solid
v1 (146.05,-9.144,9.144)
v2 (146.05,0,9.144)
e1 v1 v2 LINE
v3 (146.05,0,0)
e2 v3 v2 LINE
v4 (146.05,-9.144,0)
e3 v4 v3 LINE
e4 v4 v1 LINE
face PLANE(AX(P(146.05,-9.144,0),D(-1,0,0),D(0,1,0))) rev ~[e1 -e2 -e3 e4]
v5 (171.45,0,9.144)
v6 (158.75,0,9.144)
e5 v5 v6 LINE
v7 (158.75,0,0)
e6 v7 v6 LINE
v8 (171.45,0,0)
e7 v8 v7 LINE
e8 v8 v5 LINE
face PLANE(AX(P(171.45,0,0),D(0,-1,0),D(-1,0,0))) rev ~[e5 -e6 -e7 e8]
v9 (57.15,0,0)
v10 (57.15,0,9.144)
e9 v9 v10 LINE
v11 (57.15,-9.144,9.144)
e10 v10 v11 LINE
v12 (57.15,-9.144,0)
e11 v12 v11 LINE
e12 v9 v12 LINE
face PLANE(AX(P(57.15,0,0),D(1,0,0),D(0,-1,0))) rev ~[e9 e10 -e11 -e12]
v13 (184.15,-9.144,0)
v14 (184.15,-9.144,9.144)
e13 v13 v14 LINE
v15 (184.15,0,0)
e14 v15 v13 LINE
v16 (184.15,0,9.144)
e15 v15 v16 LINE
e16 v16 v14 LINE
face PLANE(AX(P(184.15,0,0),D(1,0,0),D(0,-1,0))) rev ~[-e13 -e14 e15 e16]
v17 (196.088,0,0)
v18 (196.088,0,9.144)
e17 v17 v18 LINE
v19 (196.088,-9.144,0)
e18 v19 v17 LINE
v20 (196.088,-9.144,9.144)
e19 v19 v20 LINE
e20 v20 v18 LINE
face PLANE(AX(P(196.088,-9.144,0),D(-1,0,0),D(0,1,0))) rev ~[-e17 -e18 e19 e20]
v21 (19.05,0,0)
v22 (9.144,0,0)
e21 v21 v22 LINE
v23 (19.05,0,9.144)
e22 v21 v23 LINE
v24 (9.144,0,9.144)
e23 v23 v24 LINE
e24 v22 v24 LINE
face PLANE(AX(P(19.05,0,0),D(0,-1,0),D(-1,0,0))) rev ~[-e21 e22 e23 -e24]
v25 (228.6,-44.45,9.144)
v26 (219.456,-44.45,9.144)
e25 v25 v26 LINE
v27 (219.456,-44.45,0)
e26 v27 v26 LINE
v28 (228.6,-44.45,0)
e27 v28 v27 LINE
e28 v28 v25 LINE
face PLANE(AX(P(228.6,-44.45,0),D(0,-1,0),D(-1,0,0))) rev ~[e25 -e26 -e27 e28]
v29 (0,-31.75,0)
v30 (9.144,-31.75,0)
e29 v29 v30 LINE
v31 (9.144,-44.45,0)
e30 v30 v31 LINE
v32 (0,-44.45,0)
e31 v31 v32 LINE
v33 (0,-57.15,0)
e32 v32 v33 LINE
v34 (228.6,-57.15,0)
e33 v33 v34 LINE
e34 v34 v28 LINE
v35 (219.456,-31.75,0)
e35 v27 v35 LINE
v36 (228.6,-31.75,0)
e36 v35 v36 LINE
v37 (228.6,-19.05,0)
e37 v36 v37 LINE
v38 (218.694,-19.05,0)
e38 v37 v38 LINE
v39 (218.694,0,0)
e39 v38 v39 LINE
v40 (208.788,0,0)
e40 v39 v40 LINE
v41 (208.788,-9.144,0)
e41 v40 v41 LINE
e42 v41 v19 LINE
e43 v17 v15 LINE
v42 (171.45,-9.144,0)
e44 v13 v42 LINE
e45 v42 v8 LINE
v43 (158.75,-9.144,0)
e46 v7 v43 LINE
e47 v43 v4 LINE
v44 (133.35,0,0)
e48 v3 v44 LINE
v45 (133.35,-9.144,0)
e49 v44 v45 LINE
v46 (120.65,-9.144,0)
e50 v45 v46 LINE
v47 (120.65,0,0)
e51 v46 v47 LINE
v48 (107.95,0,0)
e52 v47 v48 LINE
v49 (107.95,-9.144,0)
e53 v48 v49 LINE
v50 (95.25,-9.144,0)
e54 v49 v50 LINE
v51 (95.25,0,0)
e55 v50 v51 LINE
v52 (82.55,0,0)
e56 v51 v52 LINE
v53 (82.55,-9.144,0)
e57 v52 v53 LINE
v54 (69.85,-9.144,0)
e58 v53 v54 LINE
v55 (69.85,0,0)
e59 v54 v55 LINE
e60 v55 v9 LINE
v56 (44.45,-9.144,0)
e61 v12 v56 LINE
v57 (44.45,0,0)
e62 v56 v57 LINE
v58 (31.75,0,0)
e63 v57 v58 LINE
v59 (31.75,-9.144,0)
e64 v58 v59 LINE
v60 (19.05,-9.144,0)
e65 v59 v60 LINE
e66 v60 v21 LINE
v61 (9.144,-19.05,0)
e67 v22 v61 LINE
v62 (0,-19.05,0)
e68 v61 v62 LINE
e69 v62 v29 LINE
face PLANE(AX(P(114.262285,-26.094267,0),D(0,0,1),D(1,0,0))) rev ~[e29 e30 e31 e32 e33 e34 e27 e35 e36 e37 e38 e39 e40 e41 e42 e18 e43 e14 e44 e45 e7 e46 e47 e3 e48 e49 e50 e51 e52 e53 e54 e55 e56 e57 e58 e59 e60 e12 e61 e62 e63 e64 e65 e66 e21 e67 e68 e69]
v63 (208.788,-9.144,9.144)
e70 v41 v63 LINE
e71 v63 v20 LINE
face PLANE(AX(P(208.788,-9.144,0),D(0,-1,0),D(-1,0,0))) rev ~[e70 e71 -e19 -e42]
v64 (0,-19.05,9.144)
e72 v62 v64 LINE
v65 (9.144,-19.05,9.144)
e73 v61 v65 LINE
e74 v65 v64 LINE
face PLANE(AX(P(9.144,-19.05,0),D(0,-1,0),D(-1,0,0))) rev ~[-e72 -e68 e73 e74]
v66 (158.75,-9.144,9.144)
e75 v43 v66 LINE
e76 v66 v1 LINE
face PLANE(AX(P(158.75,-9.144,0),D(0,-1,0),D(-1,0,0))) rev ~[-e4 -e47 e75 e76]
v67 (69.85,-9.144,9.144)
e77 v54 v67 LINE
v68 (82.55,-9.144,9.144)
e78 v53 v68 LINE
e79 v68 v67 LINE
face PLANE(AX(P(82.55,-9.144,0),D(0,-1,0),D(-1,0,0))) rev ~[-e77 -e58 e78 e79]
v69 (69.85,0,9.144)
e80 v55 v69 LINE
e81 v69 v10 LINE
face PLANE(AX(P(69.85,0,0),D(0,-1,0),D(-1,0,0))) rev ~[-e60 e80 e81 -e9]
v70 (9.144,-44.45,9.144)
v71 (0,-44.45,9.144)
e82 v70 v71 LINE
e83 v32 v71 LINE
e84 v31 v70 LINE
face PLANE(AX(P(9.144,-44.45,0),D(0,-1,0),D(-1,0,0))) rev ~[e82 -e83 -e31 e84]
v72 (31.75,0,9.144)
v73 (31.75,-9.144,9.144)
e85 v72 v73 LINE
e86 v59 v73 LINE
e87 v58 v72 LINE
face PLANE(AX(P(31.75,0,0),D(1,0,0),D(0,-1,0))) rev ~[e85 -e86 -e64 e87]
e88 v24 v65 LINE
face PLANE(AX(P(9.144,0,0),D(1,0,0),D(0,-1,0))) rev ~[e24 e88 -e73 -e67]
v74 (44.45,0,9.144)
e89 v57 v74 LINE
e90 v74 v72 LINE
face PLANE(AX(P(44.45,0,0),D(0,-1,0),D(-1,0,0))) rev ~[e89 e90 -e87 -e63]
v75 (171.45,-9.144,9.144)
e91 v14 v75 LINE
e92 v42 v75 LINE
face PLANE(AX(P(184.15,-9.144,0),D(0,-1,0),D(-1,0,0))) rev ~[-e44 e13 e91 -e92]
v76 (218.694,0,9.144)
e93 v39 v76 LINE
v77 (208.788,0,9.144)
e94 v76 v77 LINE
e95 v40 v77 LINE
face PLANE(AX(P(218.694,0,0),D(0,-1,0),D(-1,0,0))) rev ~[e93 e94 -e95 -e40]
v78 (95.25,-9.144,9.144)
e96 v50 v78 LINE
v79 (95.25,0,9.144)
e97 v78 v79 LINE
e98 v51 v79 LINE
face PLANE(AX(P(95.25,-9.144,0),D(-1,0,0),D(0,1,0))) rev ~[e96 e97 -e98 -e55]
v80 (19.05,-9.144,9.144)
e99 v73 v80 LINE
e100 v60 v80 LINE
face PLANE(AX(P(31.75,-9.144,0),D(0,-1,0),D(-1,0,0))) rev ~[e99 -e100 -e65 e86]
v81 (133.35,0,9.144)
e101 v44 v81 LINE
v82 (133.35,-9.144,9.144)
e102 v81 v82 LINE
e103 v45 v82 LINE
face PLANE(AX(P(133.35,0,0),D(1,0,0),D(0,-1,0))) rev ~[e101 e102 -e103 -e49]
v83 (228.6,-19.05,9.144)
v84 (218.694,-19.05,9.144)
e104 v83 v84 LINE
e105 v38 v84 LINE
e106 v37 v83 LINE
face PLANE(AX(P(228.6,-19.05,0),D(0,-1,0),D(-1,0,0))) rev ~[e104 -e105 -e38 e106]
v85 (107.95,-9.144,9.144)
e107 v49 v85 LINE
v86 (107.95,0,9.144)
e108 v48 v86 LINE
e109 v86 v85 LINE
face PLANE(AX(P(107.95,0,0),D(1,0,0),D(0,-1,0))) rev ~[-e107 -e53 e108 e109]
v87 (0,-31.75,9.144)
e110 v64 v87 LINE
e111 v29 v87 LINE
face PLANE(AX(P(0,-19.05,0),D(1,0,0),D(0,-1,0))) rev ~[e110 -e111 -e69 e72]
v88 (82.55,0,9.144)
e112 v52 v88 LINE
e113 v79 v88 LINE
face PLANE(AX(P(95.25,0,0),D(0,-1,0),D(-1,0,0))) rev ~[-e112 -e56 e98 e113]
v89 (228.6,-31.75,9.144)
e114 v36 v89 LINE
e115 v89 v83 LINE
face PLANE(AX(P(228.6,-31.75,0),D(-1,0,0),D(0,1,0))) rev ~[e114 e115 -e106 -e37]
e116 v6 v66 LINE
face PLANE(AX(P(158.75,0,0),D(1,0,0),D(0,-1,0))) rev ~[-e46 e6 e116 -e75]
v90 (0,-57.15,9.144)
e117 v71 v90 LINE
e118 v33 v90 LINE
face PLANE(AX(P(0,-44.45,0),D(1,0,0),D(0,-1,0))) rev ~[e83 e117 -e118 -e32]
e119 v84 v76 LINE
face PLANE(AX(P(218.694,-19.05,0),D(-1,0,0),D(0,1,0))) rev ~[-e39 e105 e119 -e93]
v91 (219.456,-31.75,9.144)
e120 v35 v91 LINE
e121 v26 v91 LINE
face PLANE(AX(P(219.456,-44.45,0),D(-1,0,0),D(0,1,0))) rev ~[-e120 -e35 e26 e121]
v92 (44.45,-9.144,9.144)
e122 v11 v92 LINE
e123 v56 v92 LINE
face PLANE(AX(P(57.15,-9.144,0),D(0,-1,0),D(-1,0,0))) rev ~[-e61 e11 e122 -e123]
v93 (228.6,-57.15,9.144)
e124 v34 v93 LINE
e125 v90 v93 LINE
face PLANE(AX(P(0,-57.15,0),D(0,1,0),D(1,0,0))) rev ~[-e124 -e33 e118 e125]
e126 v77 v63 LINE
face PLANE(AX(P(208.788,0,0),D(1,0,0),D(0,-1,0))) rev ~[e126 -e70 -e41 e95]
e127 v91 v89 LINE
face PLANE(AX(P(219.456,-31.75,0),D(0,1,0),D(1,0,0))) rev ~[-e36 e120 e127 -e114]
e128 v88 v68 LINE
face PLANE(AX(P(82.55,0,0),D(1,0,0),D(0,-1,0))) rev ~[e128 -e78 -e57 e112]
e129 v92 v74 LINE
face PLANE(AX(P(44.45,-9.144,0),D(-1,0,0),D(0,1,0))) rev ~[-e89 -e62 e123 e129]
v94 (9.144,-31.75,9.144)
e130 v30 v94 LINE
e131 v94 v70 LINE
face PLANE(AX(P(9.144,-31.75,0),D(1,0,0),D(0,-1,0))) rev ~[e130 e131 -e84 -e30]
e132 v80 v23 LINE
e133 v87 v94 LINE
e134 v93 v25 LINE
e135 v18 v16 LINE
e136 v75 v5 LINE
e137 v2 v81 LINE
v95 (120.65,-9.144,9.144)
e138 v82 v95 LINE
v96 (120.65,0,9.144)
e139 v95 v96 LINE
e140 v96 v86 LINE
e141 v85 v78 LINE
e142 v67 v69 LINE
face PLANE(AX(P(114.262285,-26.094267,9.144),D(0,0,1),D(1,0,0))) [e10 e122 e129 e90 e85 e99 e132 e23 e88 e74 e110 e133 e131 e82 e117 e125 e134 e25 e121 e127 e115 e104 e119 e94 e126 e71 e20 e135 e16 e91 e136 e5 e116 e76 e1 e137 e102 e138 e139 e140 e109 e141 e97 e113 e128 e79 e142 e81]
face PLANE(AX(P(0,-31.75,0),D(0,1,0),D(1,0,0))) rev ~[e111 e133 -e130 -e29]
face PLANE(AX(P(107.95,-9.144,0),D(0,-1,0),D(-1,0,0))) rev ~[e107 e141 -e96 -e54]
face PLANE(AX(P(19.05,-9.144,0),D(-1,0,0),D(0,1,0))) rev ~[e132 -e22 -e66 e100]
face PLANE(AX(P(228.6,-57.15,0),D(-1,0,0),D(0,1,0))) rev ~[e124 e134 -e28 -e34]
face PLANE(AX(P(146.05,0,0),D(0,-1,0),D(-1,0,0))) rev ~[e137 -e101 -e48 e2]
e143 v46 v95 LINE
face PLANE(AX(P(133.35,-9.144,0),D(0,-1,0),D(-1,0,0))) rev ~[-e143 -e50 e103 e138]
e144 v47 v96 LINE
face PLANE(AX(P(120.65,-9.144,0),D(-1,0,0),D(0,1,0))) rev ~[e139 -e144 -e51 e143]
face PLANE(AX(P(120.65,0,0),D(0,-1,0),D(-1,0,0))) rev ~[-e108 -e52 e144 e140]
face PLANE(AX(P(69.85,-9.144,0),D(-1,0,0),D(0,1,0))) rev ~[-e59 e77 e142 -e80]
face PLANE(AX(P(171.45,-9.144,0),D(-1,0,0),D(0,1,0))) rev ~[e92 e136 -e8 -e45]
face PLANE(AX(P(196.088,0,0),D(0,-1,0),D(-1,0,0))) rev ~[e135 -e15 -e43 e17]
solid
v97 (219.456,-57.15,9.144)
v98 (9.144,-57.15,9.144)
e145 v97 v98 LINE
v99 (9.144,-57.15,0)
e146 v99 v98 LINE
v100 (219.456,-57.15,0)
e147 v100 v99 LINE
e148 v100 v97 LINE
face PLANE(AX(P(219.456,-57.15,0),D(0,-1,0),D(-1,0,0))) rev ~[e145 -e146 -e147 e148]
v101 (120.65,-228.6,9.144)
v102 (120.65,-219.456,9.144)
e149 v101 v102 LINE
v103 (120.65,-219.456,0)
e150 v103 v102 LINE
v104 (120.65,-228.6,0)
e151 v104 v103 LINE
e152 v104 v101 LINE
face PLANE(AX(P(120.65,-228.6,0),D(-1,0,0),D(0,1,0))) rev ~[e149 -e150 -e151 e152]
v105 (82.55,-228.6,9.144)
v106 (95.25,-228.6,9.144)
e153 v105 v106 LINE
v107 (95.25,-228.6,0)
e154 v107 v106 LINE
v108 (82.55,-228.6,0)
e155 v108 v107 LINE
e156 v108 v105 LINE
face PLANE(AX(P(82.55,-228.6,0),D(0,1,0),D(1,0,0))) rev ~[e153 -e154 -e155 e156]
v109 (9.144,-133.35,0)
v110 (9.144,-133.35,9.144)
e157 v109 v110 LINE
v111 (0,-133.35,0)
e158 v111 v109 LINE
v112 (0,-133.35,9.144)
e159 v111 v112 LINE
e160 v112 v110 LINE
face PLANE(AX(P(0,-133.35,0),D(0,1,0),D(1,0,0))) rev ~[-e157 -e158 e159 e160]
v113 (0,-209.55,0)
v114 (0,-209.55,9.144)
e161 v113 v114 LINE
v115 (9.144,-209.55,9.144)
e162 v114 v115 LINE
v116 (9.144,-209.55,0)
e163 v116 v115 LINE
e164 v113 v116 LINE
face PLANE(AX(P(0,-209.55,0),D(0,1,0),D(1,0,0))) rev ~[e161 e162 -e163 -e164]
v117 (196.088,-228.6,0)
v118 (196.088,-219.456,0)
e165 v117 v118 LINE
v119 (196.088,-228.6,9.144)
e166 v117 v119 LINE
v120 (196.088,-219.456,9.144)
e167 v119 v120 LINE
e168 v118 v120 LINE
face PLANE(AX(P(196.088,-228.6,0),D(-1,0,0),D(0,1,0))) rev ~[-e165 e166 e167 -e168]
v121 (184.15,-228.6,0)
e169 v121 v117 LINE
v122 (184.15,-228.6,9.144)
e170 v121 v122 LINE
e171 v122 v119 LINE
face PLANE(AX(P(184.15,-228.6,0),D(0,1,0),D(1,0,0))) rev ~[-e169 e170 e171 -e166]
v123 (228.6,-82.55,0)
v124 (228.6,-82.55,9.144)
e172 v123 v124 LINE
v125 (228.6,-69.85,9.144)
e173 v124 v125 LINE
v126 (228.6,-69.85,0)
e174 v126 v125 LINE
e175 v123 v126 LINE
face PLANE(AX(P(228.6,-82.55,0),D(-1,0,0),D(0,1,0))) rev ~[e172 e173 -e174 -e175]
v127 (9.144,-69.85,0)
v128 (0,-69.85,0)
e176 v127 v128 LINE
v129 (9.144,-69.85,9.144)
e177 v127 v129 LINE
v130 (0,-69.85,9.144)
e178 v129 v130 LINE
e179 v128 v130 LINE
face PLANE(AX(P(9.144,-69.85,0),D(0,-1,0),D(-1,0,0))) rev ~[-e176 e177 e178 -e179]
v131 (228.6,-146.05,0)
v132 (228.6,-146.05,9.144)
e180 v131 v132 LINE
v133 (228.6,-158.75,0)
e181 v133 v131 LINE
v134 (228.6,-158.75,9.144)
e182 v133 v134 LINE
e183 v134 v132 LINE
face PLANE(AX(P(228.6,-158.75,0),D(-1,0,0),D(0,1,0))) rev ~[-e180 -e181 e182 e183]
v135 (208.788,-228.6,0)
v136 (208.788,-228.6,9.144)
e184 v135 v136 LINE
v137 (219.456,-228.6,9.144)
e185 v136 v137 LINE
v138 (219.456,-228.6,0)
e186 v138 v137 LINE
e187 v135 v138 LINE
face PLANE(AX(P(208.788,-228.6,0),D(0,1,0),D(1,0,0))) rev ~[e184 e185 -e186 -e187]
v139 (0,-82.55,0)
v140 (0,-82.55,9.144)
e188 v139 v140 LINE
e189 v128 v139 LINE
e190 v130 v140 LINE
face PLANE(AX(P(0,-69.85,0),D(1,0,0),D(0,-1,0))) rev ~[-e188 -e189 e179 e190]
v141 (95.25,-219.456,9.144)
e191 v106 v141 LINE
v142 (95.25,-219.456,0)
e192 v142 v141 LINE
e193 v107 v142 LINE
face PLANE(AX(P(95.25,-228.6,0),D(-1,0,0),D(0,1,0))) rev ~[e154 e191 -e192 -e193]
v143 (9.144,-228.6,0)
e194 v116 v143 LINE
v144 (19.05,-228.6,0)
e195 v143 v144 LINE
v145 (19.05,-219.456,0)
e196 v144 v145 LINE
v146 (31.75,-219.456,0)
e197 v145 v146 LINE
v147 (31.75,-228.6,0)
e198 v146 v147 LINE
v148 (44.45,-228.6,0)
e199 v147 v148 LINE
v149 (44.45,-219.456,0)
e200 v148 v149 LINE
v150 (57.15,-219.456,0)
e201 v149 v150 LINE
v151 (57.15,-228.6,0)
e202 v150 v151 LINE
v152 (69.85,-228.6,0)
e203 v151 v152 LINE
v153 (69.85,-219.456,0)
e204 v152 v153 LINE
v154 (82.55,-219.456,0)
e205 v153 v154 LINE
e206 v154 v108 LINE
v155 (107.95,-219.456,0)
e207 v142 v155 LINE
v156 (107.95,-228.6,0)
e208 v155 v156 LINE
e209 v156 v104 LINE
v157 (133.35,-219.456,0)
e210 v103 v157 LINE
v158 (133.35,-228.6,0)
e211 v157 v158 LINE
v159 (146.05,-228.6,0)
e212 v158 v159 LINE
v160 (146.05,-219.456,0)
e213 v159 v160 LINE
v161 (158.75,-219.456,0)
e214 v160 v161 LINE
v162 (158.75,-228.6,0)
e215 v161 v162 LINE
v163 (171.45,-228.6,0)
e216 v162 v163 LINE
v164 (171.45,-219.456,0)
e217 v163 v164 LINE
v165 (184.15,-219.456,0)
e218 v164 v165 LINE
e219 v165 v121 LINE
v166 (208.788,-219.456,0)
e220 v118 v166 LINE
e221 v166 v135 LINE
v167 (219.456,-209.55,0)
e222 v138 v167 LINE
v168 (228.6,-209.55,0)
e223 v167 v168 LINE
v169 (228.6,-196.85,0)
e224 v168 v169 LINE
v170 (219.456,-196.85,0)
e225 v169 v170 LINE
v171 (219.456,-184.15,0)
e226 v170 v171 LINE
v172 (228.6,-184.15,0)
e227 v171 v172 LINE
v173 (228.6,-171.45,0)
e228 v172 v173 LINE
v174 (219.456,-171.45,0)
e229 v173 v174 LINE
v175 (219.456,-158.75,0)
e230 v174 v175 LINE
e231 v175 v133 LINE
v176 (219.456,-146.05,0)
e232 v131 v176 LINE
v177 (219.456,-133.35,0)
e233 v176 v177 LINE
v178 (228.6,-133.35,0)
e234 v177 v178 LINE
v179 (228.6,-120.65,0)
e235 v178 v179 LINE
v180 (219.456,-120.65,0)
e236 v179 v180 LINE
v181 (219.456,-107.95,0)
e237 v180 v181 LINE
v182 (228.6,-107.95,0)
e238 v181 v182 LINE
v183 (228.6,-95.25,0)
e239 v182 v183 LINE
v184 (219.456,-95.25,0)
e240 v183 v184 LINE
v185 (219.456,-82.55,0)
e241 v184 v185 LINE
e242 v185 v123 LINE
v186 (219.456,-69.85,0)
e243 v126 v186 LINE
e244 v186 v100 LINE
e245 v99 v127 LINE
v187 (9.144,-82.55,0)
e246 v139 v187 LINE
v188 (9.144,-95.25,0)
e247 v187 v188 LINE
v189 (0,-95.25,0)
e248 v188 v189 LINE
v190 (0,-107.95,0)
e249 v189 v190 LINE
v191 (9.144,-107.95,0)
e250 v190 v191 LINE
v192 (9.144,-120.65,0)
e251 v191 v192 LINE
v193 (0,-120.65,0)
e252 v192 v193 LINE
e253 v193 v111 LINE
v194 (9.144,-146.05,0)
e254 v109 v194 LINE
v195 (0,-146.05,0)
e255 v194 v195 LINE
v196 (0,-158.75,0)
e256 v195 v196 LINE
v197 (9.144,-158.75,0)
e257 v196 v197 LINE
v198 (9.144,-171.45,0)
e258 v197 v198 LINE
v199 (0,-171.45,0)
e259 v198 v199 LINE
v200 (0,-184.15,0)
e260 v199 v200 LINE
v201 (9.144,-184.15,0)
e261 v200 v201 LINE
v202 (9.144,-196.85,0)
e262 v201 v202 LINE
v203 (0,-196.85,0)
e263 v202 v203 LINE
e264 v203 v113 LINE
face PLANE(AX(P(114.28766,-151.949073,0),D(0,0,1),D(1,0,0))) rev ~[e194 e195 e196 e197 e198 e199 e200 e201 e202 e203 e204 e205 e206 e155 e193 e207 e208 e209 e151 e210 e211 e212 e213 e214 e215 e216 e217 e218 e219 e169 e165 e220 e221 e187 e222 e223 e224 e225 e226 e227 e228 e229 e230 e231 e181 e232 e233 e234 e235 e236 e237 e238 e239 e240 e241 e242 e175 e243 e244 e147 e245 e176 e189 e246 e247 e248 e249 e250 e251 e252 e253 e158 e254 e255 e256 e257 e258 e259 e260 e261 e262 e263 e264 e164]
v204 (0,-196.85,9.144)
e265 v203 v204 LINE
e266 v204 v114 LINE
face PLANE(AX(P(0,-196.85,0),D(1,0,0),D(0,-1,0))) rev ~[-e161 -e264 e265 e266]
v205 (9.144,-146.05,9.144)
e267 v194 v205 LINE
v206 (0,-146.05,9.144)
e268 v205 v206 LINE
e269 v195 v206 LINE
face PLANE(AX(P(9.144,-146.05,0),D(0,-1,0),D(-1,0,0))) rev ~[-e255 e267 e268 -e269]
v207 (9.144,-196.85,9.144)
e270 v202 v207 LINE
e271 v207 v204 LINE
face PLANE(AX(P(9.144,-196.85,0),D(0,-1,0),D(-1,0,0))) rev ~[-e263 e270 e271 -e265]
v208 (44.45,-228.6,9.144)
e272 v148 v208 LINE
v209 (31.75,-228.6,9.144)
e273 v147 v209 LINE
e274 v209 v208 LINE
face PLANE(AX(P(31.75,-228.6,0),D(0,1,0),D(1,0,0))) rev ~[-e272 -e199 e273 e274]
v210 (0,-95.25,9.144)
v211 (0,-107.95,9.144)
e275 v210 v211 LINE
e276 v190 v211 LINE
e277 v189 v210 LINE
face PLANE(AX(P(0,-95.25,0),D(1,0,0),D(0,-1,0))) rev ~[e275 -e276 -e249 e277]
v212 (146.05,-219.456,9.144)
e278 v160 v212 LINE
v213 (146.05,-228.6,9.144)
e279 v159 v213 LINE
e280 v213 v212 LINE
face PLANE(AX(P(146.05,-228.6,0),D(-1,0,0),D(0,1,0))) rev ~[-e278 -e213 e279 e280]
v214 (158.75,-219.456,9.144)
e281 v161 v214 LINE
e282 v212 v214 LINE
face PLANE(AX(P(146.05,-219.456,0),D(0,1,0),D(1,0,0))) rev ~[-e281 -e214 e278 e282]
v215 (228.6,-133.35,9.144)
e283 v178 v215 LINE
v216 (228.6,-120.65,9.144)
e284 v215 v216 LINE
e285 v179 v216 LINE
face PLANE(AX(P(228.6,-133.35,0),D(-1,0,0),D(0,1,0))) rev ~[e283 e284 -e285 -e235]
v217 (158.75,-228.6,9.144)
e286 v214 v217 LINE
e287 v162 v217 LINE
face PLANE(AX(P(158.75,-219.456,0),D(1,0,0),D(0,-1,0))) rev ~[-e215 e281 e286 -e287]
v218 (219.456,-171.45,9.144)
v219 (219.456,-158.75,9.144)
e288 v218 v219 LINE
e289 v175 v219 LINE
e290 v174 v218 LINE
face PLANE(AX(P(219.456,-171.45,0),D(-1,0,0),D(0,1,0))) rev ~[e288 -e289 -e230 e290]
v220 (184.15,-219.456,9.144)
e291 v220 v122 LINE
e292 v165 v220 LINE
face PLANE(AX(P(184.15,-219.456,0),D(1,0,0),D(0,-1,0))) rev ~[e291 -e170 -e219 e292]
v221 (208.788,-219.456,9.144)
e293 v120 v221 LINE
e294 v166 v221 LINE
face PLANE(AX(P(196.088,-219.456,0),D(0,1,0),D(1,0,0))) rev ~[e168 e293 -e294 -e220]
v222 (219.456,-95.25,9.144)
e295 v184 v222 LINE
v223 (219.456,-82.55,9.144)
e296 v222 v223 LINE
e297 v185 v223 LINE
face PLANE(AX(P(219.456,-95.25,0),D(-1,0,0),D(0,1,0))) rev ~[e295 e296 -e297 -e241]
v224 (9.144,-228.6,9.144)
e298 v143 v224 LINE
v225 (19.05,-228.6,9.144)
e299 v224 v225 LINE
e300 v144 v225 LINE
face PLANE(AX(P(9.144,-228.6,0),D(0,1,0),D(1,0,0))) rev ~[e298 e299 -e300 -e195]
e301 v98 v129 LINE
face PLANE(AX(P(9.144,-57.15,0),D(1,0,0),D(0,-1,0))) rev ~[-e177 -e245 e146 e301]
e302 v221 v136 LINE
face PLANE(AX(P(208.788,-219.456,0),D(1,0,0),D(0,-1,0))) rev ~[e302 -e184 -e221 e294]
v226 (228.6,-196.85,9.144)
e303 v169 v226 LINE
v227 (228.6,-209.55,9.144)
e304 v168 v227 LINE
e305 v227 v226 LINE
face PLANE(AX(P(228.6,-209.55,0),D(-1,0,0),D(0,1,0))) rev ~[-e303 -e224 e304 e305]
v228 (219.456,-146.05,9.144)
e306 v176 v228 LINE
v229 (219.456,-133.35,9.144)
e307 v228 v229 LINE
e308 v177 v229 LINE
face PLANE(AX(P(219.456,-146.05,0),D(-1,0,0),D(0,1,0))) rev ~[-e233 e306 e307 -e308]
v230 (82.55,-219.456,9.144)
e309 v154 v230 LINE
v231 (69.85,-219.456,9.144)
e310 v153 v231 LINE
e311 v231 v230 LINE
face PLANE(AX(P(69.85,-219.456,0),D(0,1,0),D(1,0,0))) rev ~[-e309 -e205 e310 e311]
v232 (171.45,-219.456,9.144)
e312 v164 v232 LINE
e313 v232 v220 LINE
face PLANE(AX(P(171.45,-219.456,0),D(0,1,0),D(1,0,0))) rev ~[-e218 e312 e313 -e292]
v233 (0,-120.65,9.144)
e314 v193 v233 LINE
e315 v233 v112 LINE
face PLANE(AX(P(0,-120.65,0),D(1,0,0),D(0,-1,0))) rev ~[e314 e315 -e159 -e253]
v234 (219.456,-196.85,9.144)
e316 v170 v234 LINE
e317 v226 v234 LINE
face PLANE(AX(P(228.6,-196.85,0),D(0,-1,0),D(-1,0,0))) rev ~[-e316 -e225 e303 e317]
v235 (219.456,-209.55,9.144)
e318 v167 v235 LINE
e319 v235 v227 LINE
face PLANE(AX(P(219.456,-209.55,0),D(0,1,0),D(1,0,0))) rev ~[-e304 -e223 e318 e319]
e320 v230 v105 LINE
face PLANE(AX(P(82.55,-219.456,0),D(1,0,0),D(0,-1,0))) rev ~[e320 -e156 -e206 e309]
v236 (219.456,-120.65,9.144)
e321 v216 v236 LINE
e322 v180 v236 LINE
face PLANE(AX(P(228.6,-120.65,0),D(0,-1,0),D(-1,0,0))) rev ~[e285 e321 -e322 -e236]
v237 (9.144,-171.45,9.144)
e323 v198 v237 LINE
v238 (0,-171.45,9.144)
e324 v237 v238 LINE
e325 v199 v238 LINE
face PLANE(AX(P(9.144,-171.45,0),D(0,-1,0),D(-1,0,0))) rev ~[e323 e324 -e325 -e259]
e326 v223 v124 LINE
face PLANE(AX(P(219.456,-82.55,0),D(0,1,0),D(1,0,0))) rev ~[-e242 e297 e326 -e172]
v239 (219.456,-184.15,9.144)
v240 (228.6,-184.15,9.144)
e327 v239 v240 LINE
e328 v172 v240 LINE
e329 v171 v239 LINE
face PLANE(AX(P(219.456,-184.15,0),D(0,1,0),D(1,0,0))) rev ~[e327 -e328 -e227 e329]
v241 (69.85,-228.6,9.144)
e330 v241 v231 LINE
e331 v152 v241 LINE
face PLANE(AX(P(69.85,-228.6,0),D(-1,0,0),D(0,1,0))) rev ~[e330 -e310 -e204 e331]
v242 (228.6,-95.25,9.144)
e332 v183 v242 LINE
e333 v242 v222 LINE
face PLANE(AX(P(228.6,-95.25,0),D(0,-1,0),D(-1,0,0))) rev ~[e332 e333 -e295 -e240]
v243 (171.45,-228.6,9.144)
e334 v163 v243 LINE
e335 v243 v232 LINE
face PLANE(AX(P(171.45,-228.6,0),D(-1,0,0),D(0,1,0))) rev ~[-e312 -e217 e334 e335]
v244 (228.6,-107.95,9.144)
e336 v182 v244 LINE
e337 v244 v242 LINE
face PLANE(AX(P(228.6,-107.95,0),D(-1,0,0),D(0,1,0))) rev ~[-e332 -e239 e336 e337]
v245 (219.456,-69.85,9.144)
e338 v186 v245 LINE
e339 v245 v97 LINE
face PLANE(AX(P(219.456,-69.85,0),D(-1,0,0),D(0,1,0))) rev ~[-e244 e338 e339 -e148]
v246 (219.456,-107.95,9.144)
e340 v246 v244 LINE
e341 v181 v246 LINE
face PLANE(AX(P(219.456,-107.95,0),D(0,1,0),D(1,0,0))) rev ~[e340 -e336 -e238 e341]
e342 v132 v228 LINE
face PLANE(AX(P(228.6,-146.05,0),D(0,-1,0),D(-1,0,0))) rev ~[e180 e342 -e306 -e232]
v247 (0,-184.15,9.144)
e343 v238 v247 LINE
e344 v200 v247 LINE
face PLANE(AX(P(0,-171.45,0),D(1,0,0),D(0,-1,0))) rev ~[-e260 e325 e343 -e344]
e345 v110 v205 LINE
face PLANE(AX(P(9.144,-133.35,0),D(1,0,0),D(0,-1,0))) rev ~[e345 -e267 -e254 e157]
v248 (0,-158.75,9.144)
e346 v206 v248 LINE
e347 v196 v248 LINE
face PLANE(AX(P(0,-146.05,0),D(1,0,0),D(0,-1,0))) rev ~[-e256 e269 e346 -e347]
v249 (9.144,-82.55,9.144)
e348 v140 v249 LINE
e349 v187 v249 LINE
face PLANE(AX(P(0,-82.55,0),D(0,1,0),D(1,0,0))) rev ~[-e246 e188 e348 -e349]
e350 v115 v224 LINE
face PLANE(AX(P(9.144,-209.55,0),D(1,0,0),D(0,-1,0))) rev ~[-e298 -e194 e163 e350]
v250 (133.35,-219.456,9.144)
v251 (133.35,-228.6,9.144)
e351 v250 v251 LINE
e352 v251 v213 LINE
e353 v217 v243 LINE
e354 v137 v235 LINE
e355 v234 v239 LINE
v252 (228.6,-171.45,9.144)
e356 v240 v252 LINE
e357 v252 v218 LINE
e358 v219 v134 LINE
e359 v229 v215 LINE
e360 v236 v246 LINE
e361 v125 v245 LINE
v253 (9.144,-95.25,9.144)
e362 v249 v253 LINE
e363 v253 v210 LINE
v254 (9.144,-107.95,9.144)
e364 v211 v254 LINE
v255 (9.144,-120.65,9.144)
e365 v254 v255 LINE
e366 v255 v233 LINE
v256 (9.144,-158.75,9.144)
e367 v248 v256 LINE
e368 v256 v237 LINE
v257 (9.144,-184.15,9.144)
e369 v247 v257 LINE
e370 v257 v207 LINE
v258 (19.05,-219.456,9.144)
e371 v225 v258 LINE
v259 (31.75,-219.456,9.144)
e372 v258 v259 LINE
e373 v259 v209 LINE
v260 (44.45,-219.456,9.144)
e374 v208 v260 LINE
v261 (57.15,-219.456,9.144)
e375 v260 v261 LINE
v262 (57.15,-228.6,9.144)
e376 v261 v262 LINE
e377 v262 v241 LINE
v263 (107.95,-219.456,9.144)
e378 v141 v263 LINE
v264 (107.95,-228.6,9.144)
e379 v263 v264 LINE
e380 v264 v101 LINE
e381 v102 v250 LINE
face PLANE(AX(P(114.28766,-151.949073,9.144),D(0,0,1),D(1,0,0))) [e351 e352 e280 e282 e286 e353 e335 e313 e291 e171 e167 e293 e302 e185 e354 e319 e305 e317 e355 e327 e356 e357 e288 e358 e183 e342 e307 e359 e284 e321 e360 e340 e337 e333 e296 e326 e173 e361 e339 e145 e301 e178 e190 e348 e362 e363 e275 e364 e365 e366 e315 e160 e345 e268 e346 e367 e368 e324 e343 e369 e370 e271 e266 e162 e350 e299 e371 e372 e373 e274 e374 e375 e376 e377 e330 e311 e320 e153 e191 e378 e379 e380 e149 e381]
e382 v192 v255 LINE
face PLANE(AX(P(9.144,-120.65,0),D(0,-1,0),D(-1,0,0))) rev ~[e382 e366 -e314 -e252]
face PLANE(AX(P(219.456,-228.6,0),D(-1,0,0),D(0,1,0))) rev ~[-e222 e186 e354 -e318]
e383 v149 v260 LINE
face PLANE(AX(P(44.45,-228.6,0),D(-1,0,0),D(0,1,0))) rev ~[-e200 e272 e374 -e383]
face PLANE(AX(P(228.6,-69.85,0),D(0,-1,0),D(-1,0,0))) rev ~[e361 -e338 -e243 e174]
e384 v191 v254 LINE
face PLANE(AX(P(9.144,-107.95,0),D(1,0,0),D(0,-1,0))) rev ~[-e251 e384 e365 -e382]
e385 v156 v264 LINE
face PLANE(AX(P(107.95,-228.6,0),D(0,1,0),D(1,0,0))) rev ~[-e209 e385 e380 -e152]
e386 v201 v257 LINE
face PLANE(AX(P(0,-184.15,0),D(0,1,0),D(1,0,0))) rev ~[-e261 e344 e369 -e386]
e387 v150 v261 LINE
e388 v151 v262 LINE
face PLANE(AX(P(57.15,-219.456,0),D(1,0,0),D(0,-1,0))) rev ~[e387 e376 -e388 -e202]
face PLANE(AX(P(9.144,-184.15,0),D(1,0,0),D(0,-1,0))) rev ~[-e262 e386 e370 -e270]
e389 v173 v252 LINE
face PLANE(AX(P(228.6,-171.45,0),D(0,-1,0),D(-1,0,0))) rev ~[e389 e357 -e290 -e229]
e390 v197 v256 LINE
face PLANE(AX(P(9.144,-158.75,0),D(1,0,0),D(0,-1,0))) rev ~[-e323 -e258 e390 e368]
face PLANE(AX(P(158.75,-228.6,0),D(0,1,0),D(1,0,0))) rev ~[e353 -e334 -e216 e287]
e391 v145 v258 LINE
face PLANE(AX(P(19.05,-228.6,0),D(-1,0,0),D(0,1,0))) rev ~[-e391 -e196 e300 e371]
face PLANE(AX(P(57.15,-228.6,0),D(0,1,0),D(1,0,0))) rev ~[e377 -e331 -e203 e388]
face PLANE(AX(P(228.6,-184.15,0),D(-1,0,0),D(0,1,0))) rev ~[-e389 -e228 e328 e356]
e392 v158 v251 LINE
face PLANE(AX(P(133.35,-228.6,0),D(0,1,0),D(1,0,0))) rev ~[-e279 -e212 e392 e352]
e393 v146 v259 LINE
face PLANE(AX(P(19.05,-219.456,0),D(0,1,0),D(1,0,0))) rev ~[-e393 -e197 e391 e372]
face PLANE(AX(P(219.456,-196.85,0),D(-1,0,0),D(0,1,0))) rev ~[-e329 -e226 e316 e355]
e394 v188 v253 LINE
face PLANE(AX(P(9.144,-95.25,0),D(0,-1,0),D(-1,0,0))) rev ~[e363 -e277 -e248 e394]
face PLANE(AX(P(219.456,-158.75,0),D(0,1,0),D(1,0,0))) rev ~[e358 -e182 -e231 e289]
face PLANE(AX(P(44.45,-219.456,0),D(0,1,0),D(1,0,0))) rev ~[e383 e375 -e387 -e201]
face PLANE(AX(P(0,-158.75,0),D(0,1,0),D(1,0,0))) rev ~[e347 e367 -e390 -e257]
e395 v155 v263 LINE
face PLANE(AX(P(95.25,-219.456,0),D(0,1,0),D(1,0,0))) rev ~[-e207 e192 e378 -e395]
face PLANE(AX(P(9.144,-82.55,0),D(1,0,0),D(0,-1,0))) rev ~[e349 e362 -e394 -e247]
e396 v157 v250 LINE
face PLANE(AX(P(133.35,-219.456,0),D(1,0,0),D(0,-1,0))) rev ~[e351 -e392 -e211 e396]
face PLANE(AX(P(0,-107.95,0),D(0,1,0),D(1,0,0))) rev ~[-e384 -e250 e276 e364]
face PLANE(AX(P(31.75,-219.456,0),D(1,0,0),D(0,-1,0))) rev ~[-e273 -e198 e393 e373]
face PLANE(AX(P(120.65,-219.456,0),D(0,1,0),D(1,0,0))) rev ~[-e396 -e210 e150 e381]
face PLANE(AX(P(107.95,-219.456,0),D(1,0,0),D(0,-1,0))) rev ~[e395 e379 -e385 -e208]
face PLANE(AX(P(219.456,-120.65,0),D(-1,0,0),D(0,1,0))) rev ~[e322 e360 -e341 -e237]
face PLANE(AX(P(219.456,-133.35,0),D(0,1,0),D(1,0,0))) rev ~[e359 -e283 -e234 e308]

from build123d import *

# Parameters (mm, degrees)
F1_DEPTH = 9.144
F2_DEPTH = 9.144


with BuildPart() as f1:
    # F0 (on Top) → F1 (new body)
    with BuildSketch(Plane.XY):
        Polygon((19.05, 0), (9.144, 0), (9.144, -19.05), (0, -19.05), (0, -31.75), (9.144, -31.75), (9.144, -44.45), (0, -44.45), (0, -57.15), (9.144, -57.15), (219.456, -57.15), (228.6, -57.15), (228.6, -44.45), (219.456, -44.45), (219.456, -31.75), (228.6, -31.75), (228.6, -19.05), (218.694, -19.05), (218.694, 0), (208.788, 0), (208.788, -9.144), (196.088, -9.144), (196.088, 0), (184.15, 0), (184.15, -9.144), (171.45, -9.144), (171.45, 0), (158.75, 0), (158.75, -9.144), (146.05, -9.144), (146.05, 0), (133.35, 0), (133.35, -9.144), (120.65, -9.144), (120.65, 0), (107.95, 0), (107.95, -9.144), (95.25, -9.144), (95.25, 0), (82.55, 0), (82.55, -9.144), (69.85, -9.144), (69.85, 0), (57.15, 0), (57.15, -9.144), (44.45, -9.144), (44.45, 0), (31.75, 0), (31.75, -9.144), (19.05, -9.144), align=None)
    extrude(amount=F1_DEPTH)


with BuildPart() as f2:
    # F0 (on Top) → F2 (new body)
    with BuildSketch(Plane.XY):
        Polygon((219.456, -57.15), (9.144, -57.15), (9.144, -69.85), (0, -69.85), (0, -82.55), (9.144, -82.55), (9.144, -95.25), (0, -95.25), (0, -107.95), (9.144, -107.95), (9.144, -120.65), (0, -120.65), (0, -133.35), (9.144, -133.35), (9.144, -146.05), (0, -146.05), (0, -158.75), (9.144, -158.75), (9.144, -171.45), (0, -171.45), (0, -184.15), (9.144, -184.15), (9.144, -196.85), (0, -196.85), (0, -209.55), (9.144, -209.55), (9.144, -228.6), (19.05, -228.6), (19.05, -219.456), (31.75, -219.456), (31.75, -228.6), (44.45, -228.6), (44.45, -219.456), (57.15, -219.456), (57.15, -228.6), (69.85, -228.6), (69.85, -219.456), (82.55, -219.456), (82.55, -228.6), (95.25, -228.6), (95.25, -219.456), (107.95, -219.456), (107.95, -228.6), (120.65, -228.6), (120.65, -219.456), (133.35, -219.456), (133.35, -228.6), (146.05, -228.6), (146.05, -219.456), (158.75, -219.456), (158.75, -228.6), (171.45, -228.6), (171.45, -219.456), (184.15, -219.456), (184.15, -228.6), (196.088, -228.6), (196.088, -219.456), (208.788, -219.456), (208.788, -228.6), (219.456, -228.6), (219.456, -209.55), (228.6, -209.55), (228.6, -196.85), (219.456, -196.85), (219.456, -184.15), (228.6, -184.15), (228.6, -171.45), (219.456, -171.45), (219.456, -158.75), (228.6, -158.75), (228.6, -146.05), (219.456, -146.05), (219.456, -133.35), (228.6, -133.35), (228.6, -120.65), (219.456, -120.65), (219.456, -107.95), (228.6, -107.95), (228.6, -95.25), (219.456, -95.25), (219.456, -82.55), (228.6, -82.55), (228.6, -69.85), (219.456, -69.85), align=None)
    extrude(amount=F2_DEPTH)


solid = Compound([f1.part, f2.part])
